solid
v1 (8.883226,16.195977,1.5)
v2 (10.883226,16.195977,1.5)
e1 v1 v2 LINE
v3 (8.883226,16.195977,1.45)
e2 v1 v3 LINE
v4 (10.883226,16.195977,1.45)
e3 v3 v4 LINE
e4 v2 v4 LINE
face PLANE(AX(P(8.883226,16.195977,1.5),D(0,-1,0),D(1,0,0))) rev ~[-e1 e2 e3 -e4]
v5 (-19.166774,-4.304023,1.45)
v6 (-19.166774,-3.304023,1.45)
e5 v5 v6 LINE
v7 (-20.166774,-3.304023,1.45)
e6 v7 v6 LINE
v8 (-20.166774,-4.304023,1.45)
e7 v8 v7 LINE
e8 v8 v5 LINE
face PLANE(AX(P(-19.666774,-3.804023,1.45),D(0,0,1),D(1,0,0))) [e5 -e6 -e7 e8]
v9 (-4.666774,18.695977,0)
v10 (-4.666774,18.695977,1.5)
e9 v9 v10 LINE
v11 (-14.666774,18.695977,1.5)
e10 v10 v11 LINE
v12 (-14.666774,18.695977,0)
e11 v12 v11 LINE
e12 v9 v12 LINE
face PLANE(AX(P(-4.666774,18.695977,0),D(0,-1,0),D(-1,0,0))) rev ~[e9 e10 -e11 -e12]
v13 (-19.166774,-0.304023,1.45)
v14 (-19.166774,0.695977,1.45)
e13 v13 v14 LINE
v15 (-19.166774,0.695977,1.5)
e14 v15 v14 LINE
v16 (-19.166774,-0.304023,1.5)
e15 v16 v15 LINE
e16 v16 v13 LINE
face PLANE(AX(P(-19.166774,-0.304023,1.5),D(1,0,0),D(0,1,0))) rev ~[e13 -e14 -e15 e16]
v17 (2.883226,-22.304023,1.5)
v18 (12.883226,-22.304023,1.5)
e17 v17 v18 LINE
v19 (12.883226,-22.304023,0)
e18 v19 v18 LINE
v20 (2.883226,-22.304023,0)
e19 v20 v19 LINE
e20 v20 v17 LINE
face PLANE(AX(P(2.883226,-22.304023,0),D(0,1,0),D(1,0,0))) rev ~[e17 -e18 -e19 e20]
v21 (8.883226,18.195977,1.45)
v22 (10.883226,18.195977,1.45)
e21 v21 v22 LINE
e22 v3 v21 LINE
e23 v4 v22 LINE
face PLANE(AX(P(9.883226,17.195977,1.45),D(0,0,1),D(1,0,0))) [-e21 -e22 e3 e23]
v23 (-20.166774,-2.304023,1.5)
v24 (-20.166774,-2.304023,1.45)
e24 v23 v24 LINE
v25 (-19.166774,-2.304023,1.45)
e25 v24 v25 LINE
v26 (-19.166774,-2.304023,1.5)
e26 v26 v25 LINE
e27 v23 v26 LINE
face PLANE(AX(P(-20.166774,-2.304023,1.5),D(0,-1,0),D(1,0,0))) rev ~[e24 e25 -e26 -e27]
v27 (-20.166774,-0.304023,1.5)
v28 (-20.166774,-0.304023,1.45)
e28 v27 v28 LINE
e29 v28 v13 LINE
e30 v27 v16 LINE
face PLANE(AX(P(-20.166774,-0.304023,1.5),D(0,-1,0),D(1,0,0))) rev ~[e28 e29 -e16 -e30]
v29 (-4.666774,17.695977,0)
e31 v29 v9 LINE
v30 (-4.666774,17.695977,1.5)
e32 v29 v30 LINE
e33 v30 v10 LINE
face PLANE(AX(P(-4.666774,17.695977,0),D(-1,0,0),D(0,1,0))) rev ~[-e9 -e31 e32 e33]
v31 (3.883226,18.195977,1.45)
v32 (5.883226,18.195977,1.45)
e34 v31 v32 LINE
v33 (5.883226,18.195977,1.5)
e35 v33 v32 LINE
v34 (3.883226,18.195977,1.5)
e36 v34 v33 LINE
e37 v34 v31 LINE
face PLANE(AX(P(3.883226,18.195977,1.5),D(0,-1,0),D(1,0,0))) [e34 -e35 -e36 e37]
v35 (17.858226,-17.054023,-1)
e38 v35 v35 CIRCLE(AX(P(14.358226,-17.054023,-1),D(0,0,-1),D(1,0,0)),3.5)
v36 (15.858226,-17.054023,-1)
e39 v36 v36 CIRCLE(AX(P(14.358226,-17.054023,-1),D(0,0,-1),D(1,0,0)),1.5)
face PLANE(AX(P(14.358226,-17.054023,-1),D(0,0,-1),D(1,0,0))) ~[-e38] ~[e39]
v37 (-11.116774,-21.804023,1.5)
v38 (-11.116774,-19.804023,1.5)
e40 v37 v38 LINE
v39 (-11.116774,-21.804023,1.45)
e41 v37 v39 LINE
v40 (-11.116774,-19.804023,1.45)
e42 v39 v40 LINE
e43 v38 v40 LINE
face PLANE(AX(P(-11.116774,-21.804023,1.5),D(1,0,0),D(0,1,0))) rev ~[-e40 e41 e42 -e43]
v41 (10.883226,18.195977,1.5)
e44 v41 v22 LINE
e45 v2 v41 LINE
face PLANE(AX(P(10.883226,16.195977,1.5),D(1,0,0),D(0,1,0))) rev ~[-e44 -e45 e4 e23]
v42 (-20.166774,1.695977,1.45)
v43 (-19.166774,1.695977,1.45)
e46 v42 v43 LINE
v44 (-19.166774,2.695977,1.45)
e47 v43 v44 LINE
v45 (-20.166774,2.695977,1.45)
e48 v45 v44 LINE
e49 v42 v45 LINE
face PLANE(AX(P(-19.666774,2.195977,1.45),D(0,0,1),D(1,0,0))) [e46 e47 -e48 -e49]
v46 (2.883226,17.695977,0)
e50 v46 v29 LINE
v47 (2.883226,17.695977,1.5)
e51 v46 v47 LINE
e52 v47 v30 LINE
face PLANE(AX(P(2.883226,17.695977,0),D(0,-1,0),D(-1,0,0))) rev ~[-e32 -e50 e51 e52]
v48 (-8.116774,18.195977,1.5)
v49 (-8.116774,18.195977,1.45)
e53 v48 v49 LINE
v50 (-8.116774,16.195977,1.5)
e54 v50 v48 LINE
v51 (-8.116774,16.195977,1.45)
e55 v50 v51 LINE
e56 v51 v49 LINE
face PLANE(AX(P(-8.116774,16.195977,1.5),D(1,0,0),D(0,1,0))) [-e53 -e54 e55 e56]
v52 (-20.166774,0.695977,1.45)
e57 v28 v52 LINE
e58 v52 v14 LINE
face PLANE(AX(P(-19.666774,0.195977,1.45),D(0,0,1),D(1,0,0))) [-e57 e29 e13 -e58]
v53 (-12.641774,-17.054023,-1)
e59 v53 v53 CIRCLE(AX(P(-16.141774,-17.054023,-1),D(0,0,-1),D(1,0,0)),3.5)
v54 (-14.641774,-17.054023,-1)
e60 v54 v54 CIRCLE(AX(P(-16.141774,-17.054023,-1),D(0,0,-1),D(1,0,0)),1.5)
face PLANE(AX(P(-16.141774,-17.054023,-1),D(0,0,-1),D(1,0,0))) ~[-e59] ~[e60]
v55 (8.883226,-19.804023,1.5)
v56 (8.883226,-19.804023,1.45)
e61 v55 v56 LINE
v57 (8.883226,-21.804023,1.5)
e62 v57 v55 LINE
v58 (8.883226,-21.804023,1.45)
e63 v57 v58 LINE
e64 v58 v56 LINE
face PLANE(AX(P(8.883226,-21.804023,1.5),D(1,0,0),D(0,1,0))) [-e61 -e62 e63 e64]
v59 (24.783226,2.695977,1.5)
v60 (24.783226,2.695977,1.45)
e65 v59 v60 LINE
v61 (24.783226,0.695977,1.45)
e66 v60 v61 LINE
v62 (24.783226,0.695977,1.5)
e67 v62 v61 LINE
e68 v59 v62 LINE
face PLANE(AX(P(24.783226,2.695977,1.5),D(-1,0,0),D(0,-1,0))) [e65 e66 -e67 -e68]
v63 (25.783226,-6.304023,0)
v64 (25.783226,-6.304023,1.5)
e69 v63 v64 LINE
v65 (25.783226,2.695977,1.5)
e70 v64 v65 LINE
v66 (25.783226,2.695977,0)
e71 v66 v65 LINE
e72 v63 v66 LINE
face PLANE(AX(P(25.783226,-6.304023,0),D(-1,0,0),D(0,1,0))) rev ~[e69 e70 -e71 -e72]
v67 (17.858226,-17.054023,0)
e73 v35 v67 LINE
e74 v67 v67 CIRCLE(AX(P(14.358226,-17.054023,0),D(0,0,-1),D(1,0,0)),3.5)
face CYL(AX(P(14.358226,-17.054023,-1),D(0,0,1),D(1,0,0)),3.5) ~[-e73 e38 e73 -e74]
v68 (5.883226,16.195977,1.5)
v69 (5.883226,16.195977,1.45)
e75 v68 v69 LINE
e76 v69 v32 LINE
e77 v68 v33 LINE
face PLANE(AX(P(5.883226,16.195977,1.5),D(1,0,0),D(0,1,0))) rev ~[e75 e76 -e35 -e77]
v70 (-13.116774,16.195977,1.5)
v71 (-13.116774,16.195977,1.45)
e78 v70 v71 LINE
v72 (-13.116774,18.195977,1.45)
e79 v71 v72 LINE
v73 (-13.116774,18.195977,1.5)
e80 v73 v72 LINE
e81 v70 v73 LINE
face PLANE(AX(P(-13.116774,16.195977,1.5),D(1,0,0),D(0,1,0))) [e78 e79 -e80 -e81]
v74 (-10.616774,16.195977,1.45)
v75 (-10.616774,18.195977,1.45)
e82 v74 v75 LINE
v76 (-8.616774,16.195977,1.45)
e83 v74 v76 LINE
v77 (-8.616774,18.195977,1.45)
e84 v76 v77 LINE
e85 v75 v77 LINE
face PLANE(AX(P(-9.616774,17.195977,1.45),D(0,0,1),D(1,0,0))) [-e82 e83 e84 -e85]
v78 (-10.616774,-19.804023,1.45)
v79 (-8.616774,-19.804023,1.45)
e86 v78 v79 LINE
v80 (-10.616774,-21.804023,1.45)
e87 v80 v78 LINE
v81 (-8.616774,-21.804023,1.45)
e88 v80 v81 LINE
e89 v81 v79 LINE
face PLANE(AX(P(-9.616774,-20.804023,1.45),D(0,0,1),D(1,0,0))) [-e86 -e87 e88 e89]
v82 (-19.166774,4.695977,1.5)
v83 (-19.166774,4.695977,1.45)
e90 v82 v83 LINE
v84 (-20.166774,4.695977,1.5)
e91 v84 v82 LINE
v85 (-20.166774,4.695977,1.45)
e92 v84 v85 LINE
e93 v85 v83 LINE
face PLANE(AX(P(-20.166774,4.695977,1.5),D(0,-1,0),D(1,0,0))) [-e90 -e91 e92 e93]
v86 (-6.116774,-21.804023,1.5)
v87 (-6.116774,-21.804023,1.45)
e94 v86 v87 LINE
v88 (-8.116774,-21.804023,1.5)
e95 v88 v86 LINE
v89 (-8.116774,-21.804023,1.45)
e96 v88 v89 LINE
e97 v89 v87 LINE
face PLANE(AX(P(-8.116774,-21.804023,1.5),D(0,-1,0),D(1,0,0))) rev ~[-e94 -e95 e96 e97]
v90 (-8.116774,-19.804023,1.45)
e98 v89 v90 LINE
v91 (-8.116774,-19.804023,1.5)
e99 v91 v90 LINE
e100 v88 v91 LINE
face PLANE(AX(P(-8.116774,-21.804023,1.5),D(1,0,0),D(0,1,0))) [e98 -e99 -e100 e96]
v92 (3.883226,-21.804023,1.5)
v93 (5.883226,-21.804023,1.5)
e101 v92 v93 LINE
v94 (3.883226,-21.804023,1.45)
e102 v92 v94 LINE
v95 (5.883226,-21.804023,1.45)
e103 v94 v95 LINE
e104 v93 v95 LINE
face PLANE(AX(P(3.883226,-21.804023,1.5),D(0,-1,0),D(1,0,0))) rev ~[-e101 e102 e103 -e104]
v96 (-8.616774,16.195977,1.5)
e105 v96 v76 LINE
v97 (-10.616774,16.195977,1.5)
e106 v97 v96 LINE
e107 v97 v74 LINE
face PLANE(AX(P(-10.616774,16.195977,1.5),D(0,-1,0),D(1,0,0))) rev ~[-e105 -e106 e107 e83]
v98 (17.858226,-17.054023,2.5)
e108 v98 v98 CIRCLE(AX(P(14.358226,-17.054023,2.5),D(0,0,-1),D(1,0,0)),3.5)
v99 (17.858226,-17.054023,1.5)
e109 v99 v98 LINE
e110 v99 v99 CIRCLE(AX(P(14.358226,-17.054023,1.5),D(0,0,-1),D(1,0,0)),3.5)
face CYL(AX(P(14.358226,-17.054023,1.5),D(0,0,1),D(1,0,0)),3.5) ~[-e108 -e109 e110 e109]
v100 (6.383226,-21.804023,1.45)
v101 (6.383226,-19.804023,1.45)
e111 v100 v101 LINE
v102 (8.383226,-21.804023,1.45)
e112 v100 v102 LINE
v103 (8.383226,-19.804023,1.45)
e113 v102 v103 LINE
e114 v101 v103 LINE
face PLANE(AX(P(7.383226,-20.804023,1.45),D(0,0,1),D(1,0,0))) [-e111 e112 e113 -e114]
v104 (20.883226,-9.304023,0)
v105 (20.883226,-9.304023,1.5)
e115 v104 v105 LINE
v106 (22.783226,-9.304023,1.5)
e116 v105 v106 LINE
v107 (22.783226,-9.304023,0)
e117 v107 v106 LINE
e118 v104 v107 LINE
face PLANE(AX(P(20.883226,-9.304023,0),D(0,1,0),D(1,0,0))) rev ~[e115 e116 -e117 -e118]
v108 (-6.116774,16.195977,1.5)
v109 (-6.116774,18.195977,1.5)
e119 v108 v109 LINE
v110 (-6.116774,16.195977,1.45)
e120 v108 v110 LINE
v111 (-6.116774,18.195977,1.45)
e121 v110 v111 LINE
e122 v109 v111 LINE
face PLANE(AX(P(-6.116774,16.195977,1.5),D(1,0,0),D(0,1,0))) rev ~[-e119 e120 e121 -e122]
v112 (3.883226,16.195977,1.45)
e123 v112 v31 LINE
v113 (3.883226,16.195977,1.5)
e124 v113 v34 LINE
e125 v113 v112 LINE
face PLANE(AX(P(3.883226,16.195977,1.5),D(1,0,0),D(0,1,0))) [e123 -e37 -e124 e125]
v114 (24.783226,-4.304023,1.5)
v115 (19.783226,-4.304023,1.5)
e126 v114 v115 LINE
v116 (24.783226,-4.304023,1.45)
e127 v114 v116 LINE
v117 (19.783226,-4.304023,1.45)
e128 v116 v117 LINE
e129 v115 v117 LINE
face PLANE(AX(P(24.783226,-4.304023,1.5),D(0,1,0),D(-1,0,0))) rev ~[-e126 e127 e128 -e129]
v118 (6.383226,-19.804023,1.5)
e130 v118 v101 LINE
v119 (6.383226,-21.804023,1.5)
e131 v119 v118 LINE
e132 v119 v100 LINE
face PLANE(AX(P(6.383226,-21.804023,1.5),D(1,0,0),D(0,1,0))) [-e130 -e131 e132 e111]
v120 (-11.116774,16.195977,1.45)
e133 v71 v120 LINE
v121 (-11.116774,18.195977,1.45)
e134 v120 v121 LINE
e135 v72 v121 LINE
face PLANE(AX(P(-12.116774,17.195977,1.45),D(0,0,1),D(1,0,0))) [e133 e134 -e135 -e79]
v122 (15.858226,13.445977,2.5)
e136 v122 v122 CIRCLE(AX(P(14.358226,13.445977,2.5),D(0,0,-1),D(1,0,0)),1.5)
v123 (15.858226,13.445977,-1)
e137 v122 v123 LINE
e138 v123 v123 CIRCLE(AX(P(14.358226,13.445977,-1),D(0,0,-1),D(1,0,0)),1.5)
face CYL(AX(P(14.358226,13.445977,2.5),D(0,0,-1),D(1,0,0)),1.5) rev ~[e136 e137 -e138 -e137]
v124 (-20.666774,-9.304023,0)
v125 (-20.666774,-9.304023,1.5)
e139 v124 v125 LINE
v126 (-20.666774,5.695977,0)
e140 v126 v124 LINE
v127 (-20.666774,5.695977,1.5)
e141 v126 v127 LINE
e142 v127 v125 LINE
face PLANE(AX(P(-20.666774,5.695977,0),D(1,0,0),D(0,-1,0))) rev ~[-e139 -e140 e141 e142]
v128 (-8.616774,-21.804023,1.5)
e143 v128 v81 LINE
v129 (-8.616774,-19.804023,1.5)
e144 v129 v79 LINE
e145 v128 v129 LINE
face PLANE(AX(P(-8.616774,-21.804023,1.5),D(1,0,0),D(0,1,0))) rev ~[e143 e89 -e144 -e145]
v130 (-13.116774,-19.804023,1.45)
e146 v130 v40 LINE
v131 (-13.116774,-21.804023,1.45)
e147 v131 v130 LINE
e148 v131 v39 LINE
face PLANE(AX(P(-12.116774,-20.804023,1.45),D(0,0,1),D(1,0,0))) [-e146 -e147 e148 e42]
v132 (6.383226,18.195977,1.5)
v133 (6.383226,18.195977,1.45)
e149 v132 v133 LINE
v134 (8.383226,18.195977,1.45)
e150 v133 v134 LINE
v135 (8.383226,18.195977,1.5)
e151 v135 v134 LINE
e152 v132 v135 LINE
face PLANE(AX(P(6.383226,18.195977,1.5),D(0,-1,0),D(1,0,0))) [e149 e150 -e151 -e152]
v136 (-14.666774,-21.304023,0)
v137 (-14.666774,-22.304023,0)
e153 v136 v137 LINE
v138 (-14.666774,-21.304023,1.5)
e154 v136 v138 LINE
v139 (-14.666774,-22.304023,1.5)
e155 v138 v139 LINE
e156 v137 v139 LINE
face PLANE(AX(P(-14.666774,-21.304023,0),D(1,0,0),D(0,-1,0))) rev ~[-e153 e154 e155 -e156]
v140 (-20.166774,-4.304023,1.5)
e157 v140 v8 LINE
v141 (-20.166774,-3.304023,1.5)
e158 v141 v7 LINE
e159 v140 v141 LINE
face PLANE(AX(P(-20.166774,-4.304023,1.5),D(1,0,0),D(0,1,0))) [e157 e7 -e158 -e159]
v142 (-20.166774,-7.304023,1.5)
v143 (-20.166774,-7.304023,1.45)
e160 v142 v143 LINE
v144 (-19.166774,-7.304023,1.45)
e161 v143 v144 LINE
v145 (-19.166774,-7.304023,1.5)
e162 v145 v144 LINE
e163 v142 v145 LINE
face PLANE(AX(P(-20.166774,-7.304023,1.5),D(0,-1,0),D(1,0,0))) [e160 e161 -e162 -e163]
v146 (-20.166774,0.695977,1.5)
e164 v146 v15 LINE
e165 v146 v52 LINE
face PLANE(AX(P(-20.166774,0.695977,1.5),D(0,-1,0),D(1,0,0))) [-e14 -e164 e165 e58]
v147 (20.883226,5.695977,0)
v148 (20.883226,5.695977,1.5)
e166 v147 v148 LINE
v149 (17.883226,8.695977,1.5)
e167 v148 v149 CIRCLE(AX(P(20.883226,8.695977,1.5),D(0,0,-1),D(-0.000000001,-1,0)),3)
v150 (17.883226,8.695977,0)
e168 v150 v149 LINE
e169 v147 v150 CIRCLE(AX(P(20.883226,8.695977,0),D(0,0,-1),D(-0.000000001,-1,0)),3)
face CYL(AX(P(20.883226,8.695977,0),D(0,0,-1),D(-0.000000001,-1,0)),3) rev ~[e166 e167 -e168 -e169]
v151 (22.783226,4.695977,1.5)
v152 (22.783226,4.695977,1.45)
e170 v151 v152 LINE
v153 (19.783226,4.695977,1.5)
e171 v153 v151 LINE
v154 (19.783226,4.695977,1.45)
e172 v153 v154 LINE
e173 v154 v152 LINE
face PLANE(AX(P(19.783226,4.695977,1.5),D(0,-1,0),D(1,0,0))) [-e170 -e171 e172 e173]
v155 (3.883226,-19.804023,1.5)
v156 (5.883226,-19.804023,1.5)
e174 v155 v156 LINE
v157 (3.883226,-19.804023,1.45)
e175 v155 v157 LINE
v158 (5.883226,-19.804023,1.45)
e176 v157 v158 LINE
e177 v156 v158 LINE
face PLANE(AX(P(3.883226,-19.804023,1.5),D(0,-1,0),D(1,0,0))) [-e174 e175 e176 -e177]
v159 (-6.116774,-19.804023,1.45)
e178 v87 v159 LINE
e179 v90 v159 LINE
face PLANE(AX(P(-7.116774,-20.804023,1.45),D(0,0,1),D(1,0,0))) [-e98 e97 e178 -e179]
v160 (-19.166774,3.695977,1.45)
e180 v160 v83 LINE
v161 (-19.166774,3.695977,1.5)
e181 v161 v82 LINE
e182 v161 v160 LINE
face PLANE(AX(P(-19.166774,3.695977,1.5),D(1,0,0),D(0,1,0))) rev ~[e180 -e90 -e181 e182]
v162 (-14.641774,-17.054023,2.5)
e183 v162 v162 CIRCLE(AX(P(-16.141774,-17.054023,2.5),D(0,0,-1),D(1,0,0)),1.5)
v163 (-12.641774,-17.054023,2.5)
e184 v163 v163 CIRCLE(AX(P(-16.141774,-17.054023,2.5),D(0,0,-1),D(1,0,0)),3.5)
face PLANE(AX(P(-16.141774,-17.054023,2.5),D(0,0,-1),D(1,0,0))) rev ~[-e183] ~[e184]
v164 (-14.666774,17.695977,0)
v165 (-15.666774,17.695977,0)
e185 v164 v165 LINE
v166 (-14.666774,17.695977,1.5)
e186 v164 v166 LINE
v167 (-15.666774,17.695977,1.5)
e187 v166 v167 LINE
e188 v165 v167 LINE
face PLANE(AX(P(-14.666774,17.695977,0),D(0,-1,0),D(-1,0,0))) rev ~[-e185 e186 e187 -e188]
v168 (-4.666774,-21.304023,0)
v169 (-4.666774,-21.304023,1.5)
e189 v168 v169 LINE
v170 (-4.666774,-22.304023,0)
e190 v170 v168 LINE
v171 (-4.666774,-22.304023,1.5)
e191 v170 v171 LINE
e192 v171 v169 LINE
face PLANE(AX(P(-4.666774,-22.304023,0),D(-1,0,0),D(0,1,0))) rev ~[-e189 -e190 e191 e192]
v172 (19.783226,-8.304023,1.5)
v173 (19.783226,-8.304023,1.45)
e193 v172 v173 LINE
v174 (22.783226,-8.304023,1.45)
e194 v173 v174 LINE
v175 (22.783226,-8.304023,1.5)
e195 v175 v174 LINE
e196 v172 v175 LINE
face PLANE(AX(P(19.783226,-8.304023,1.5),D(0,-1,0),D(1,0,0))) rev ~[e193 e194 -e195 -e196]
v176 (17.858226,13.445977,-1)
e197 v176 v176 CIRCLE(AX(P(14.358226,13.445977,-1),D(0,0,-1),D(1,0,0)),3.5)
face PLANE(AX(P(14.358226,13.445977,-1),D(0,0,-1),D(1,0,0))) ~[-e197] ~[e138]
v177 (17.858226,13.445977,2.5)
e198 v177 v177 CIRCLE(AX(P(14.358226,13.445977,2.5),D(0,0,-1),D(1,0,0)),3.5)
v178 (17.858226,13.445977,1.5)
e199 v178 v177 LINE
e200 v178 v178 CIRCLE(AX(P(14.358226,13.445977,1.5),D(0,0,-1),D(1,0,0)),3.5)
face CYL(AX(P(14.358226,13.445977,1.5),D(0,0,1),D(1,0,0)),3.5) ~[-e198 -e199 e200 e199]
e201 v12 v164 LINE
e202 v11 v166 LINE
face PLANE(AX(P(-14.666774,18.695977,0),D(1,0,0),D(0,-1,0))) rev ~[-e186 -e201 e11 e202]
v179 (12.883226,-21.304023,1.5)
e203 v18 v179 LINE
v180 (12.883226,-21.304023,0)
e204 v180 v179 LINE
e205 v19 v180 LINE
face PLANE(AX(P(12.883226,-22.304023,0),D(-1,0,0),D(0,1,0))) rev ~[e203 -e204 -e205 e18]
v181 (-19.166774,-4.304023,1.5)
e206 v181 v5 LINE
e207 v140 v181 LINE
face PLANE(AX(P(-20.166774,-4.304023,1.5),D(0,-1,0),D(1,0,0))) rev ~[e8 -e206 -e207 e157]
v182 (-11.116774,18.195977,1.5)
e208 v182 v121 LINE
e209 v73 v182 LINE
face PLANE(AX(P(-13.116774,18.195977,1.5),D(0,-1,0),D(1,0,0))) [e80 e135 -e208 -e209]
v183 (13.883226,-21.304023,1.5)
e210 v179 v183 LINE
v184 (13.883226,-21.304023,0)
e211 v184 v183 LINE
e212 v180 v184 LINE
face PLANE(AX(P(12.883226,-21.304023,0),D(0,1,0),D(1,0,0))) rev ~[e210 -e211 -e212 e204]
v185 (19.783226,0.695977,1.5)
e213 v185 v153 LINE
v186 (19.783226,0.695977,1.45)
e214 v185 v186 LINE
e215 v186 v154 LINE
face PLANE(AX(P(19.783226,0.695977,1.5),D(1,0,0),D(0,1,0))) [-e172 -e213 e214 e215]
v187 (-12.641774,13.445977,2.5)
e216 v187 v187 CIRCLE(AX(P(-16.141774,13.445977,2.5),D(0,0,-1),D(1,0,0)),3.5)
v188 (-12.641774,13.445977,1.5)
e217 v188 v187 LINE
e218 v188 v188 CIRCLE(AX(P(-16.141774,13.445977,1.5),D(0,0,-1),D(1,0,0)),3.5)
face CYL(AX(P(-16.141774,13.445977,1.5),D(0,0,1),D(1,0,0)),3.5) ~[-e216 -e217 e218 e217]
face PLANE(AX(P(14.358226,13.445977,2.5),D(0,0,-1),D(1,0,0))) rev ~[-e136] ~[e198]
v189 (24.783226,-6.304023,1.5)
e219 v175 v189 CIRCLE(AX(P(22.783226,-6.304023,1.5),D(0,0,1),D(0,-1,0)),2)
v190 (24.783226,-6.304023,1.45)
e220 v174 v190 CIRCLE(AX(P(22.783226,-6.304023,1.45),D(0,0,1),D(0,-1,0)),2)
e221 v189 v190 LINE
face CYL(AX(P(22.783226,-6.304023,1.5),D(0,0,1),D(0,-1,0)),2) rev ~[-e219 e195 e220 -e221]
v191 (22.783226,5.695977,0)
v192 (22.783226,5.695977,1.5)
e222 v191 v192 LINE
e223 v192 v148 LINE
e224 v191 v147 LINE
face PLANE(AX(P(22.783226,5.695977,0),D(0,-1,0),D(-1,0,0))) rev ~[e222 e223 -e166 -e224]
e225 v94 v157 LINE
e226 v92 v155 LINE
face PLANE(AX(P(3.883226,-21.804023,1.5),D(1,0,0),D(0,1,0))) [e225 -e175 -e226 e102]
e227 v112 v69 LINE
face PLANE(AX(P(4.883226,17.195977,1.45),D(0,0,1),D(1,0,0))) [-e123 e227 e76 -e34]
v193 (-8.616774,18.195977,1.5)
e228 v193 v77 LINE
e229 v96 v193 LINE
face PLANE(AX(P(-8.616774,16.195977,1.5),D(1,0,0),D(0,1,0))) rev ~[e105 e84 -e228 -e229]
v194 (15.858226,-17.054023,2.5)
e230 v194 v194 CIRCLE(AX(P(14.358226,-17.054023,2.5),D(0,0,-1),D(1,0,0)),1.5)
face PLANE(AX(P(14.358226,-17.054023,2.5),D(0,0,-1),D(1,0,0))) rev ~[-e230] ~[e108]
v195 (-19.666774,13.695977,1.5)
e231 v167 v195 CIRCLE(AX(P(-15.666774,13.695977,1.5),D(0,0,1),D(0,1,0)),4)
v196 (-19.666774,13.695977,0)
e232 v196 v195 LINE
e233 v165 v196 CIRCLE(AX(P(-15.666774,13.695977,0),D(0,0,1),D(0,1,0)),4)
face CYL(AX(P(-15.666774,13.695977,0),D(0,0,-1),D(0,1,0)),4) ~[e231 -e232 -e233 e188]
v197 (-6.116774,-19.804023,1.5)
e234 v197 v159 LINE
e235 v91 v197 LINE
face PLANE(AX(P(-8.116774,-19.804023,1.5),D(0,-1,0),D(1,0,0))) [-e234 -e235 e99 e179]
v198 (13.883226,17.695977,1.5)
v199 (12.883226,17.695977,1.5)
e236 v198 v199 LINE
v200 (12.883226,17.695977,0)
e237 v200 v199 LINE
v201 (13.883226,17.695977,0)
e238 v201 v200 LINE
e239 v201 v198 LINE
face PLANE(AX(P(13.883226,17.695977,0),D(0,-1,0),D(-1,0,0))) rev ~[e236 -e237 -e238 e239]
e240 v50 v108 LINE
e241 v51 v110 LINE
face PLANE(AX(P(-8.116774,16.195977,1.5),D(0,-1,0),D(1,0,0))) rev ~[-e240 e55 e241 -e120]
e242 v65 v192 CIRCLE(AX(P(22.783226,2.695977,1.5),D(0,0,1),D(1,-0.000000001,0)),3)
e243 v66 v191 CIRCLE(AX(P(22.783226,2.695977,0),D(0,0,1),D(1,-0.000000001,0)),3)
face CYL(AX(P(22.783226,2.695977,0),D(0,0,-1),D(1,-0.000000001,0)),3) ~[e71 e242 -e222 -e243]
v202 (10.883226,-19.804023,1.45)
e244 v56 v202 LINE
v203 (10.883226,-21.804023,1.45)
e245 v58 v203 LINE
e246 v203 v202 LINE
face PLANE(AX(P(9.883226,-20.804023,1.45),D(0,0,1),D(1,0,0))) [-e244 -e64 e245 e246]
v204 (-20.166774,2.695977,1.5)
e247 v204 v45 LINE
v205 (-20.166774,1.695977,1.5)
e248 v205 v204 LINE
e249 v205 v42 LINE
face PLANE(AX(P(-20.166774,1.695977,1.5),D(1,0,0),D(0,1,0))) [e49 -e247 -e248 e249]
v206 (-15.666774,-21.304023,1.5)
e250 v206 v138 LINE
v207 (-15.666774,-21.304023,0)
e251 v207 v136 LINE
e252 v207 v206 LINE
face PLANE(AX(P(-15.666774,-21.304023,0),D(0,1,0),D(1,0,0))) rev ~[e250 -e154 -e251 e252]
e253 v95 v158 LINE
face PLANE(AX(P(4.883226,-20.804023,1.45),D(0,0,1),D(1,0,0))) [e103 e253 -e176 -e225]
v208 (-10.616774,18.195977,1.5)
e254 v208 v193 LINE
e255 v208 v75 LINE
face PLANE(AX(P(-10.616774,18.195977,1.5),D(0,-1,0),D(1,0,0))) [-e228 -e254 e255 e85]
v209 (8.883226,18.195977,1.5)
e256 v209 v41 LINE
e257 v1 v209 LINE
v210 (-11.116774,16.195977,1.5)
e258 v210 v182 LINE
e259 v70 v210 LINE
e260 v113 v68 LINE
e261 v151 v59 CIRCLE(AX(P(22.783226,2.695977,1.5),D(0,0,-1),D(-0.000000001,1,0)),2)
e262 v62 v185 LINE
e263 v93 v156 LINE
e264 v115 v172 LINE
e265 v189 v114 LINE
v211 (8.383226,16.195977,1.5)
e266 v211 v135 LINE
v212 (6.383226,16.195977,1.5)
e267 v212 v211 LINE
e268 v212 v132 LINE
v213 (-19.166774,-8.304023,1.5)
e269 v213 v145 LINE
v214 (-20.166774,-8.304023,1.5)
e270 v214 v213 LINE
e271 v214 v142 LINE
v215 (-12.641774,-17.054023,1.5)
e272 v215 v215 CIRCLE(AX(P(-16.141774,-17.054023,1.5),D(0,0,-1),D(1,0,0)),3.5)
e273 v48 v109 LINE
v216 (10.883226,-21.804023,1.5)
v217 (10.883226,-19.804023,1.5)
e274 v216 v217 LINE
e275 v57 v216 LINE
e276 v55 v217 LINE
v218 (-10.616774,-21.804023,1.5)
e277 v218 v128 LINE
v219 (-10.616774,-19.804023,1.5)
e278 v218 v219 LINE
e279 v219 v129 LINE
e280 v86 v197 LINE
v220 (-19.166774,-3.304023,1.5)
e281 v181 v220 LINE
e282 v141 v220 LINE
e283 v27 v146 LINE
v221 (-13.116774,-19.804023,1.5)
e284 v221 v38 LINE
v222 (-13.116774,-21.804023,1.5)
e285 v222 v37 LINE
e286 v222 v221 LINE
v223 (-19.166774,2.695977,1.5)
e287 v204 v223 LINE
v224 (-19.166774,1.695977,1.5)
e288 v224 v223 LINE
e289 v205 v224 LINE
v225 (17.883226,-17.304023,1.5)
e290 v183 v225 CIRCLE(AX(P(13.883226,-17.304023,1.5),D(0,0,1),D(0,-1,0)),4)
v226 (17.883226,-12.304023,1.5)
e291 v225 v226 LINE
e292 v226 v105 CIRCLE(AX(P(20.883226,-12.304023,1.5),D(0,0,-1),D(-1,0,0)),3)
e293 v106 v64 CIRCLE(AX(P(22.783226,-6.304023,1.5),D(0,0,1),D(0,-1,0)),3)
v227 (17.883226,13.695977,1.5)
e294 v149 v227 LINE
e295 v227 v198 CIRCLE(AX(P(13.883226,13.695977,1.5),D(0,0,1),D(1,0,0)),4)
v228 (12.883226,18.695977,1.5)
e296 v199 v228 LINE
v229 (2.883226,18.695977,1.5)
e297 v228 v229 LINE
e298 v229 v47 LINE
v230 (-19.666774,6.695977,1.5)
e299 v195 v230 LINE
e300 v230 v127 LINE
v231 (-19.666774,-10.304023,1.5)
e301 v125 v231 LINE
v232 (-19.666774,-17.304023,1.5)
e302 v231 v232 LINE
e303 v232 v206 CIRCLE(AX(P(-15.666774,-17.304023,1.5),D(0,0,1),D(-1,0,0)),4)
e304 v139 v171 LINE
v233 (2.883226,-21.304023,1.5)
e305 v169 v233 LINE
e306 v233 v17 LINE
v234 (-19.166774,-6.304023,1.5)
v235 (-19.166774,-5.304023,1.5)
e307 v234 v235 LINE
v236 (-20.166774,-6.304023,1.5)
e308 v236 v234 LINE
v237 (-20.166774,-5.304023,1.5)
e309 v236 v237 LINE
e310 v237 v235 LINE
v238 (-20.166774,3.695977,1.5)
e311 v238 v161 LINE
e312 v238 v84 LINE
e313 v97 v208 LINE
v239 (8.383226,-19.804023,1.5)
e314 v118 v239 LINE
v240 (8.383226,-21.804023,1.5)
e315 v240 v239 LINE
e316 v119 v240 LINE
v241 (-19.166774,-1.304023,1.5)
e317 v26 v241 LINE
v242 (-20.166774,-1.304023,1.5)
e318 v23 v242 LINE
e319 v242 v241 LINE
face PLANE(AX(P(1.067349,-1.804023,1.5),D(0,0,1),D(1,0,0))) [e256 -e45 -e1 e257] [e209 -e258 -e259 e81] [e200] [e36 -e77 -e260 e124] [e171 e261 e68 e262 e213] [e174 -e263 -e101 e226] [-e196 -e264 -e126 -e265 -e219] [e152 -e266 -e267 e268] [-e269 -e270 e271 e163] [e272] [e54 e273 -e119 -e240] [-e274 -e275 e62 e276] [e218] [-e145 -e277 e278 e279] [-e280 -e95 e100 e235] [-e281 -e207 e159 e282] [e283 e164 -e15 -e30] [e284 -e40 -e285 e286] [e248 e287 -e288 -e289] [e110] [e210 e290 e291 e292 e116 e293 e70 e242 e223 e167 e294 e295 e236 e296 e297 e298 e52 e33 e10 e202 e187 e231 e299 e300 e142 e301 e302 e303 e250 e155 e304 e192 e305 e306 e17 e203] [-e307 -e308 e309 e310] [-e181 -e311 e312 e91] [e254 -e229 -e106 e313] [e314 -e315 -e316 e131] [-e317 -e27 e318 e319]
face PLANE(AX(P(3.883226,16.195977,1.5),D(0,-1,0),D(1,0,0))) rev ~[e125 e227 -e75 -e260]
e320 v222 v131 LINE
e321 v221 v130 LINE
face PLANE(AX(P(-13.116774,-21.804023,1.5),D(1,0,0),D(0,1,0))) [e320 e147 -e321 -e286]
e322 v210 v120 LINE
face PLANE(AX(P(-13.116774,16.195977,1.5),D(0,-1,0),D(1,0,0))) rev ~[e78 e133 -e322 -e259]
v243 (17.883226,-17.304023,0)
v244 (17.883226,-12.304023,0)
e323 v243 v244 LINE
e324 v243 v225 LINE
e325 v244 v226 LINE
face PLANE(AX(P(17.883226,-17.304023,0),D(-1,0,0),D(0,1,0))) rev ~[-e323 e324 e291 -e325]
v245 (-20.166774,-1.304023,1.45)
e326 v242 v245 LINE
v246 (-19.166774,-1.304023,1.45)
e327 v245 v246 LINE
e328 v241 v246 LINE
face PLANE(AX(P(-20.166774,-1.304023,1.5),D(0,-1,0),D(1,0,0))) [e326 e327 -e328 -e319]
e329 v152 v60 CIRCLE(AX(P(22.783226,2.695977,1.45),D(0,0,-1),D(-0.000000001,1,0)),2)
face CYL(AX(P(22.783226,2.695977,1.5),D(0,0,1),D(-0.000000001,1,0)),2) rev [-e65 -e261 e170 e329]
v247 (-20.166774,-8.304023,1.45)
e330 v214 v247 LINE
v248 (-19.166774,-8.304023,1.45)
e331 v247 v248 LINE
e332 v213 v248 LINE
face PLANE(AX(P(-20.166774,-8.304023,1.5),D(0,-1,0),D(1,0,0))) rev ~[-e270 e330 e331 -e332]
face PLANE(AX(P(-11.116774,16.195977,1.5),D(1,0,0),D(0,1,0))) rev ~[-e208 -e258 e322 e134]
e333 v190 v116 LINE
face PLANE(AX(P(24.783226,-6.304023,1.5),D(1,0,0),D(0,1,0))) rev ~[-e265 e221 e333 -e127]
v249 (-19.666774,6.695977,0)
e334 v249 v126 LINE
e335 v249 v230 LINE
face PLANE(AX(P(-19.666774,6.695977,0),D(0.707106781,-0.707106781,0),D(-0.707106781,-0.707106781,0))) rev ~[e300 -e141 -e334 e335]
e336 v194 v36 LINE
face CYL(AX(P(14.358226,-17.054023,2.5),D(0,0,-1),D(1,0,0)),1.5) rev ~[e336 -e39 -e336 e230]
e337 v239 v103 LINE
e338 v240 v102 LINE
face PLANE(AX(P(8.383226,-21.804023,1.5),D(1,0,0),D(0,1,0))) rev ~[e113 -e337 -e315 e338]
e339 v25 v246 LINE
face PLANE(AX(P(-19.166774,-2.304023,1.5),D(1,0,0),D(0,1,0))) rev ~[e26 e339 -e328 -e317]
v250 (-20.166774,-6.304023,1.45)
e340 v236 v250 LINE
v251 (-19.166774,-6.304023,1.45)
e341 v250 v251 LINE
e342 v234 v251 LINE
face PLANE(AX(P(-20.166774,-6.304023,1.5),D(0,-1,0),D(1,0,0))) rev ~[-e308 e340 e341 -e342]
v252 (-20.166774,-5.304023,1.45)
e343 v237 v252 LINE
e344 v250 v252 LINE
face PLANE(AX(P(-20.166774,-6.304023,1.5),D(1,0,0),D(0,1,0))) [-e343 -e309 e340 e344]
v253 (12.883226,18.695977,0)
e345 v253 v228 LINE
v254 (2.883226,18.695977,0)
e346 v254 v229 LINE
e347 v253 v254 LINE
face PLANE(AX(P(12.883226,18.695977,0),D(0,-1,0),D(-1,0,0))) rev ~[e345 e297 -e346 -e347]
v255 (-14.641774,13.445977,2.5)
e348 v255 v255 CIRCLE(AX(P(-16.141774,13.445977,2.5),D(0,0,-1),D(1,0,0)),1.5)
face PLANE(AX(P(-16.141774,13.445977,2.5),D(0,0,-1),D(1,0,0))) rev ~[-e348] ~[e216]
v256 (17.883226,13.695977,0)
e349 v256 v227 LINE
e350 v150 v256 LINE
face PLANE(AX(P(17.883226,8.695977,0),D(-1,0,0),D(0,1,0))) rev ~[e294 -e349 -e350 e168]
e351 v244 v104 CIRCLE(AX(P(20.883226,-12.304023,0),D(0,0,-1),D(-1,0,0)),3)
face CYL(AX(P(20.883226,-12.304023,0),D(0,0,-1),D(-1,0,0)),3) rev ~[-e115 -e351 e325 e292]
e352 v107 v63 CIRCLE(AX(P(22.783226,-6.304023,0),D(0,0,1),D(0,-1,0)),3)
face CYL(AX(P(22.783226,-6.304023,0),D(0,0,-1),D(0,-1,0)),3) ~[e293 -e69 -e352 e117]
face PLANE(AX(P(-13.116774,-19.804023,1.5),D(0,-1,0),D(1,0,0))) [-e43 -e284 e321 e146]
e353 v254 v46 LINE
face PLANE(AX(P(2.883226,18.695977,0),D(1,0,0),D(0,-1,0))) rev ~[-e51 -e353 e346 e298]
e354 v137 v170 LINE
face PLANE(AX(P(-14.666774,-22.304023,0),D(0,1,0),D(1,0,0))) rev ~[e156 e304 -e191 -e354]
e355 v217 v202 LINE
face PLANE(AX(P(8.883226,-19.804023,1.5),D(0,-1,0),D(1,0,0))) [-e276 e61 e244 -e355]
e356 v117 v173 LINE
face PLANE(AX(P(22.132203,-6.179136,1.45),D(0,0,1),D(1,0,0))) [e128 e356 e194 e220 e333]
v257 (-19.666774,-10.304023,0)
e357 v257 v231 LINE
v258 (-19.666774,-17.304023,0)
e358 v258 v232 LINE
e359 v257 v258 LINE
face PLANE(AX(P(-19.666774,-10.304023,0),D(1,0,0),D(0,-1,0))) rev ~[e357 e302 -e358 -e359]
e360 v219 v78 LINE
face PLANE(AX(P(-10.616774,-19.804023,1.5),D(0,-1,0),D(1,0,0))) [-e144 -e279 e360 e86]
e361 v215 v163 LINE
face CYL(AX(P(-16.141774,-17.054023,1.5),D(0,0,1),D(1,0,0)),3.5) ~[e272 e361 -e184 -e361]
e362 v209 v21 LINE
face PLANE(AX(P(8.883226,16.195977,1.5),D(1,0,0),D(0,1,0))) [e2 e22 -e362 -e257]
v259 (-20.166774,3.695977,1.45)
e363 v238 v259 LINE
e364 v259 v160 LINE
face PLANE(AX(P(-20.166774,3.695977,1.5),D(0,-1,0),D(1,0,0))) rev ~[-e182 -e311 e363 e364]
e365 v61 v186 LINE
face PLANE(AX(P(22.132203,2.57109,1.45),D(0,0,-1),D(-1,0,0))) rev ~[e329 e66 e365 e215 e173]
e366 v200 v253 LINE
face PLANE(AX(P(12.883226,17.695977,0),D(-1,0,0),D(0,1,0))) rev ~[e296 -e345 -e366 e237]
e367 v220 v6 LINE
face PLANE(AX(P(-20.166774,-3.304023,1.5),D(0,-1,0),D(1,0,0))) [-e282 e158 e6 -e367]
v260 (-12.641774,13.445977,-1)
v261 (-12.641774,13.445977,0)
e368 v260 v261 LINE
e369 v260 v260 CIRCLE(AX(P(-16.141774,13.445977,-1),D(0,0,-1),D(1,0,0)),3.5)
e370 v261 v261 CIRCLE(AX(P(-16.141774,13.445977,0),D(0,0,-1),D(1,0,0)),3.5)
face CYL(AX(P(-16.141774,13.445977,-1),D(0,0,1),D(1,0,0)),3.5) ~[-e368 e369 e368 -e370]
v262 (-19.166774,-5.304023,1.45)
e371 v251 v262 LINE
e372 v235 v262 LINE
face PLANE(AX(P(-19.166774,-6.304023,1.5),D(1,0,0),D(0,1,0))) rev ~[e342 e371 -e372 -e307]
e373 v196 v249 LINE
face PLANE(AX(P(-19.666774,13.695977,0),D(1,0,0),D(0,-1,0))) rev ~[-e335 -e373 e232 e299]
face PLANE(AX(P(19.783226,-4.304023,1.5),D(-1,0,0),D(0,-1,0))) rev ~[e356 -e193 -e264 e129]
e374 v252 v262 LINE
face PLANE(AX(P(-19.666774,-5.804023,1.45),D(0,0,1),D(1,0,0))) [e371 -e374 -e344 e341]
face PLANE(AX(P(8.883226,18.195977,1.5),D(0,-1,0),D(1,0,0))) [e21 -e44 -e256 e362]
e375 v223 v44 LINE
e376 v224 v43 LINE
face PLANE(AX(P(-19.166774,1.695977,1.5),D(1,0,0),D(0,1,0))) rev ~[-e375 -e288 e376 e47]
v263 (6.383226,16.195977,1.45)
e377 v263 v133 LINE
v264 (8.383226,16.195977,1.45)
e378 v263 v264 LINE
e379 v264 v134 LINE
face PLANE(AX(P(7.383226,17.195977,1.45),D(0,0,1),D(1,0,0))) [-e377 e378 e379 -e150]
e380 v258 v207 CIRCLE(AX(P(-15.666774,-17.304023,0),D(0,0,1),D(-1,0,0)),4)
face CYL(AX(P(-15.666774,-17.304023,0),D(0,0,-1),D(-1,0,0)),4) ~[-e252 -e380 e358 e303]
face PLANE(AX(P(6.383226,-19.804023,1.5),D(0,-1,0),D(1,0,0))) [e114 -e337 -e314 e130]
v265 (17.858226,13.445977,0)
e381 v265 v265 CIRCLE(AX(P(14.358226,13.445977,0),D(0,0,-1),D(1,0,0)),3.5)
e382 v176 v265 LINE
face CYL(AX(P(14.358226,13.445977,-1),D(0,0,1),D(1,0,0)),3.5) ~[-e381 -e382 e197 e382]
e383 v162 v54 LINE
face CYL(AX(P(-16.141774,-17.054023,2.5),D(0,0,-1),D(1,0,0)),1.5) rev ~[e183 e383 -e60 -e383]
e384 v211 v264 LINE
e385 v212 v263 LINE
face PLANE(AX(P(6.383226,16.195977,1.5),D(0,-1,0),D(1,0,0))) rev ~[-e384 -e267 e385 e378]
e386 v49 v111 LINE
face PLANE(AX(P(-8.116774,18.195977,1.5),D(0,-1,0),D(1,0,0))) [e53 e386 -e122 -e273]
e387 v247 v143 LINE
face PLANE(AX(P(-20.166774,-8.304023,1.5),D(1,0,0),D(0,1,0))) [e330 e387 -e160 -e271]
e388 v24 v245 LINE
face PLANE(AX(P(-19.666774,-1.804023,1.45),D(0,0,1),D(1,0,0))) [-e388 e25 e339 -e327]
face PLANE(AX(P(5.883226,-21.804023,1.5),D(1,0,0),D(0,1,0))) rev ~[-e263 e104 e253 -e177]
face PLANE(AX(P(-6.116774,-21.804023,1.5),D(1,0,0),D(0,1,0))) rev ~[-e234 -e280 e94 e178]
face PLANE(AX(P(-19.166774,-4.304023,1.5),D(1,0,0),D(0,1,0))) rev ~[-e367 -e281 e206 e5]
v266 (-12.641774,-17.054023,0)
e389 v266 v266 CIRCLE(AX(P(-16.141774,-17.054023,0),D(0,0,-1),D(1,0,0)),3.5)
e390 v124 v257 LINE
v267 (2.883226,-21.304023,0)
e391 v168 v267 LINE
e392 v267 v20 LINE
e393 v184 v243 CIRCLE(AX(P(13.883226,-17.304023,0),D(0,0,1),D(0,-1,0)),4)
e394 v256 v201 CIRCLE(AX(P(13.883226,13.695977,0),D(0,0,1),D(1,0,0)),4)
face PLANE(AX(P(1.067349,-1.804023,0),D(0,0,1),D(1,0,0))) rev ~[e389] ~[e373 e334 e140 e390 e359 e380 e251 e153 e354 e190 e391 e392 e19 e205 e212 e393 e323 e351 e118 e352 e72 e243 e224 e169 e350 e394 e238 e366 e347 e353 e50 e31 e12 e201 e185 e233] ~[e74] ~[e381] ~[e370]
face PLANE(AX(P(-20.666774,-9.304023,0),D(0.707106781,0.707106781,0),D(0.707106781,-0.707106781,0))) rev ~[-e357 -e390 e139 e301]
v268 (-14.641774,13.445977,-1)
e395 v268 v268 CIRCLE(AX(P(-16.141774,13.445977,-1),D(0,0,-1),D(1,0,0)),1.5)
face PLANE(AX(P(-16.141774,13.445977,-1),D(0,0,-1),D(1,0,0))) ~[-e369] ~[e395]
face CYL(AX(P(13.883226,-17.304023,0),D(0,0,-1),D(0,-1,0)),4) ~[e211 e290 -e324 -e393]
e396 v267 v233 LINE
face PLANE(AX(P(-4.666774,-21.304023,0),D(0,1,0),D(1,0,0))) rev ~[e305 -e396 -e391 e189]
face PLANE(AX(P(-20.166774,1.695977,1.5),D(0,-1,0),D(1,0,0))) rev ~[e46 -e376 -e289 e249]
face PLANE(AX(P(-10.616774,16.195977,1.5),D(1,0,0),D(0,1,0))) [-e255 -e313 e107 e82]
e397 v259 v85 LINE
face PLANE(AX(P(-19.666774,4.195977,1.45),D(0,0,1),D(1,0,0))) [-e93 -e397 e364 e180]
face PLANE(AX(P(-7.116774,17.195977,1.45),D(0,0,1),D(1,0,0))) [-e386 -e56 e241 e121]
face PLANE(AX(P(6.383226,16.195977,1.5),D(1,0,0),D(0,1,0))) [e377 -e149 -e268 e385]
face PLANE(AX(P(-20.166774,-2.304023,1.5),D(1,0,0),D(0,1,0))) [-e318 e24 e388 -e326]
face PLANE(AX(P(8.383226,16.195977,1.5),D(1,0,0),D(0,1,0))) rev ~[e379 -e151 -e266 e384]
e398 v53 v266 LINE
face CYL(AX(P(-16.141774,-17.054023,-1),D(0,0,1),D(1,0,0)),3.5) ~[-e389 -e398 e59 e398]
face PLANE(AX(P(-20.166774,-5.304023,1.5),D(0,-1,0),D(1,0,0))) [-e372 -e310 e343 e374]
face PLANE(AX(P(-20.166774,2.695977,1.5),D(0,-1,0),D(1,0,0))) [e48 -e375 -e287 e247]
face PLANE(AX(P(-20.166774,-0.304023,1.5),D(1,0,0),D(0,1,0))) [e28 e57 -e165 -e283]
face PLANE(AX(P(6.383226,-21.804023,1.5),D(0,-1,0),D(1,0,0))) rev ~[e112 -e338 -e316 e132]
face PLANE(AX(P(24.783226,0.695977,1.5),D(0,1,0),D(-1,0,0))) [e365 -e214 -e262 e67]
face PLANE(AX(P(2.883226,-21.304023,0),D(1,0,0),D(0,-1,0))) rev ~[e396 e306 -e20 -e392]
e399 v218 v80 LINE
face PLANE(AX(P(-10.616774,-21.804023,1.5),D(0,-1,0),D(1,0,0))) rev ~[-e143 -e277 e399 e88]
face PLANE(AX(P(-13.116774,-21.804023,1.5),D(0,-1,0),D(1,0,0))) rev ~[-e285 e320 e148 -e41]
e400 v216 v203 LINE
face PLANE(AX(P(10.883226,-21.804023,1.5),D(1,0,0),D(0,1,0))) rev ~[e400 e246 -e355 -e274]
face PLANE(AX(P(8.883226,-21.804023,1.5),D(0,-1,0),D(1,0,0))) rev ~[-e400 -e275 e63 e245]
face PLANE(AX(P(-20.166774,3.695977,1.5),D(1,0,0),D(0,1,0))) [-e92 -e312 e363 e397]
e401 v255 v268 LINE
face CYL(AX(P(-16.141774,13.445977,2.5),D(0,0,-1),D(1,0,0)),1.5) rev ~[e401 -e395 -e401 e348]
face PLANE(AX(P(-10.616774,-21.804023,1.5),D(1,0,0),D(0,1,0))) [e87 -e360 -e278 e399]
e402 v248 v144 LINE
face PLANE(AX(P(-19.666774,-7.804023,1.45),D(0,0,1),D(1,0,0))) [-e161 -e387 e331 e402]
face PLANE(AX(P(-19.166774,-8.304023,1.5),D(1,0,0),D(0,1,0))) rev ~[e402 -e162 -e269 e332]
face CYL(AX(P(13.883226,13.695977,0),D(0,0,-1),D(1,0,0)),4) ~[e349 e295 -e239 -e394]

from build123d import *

# Parameters (mm, degrees)
CROQUIS1_R              = 2.5
SALIENTE_EXTRUIR1_DEPTH = 1.5
MATRIZL1_COUNT          = 2
MATRIZL1_PITCH          = 30.5
MATRIZL1_COUNT_DIR2     = 2
MATRIZL1_PITCH_DIR2     = 30.5
CROQUIS4_W              = 2
CROQUIS4_H              = 2
CROQUIS4_W_2            = 1
CROQUIS4_H_2            = 1
CORTAR_EXTRUIR1_DEPTH   = 0.05


with BuildPart() as part:
    # Croquis1 → Saliente-Extruir1 (new body)
    with BuildSketch(Plane.XY):
        with BuildLine():
            Line((-19.66677388, 13.695977011), (-19.66677388, 6.695977011))
            Line((-19.66677388, 6.695977011), (-20.66677388, 5.695977011))
            Line((-20.66677388, 5.695977011), (-20.66677388, -9.304022989))
            Line((-20.66677388, -9.304022989), (-19.66677388, -10.304022989))
            Line((-19.66677388, -10.304022989), (-19.66677388, -17.304022989))
            ThreePointArc((-19.66677388, -17.304022989), (-18.495201005, -20.132450113), (-15.66677388, -21.304022989))
            Line((-15.66677388, -21.304022989), (-14.66677388, -21.304022989))
            Line((-14.66677388, -21.304022989), (-14.66677388, -22.304022989))
            Line((-14.66677388, -22.304022989), (-4.66677388, -22.304022989))
            Line((-4.66677388, -22.304022989), (-4.66677388, -21.304022989))
            Line((-4.66677388, -21.304022989), (2.88322612, -21.304022989))
            Line((2.88322612, -21.304022989), (2.88322612, -22.304022989))
            Line((2.88322612, -22.304022989), (12.88322612, -22.304022989))
            Line((12.88322612, -22.304022989), (12.88322612, -21.304022989))
            Line((12.88322612, -21.304022989), (13.88322612, -21.304022989))
            ThreePointArc((13.88322612, -21.304022989), (16.711653245, -20.132450113), (17.88322612, -17.304022989))
            Line((17.88322612, -17.304022989), (17.88322612, -12.304022989))
            ThreePointArc((17.88322612, -12.304022989), (18.761905777, -10.182702645), (20.88322612, -9.304022989))
            Line((20.88322612, -9.304022989), (22.78322612, -9.304022989))
            ThreePointArc((22.78322612, -9.304022989), (24.904546464, -8.425343332), (25.78322612, -6.304022989))
            Line((25.78322612, -6.304022989), (25.78322612, 2.695977011))
            ThreePointArc((25.78322612, 2.695977011), (24.904546464, 4.817297355), (22.78322612, 5.695977011))
            Line((22.78322612, 5.695977011), (20.88322612, 5.695977011))
            ThreePointArc((20.88322612, 5.695977011), (18.761905777, 6.574656668), (17.88322612, 8.695977011))
            Line((17.88322612, 8.695977011), (17.88322612, 13.695977011))
            ThreePointArc((17.88322612, 13.695977011), (16.711653245, 16.524404136), (13.88322612, 17.695977011))
            Line((13.88322612, 17.695977011), (12.88322612, 17.695977011))
            Line((12.88322612, 17.695977011), (12.88322612, 18.695977011))
            Line((12.88322612, 18.695977011), (2.88322612, 18.695977011))
            Line((2.88322612, 18.695977011), (2.88322612, 17.695977011))
            Line((2.88322612, 17.695977011), (-4.66677388, 17.695977011))
            Line((-4.66677388, 17.695977011), (-4.66677388, 18.695977011))
            Line((-4.66677388, 18.695977011), (-14.66677388, 18.695977011))
            Line((-14.66677388, 18.695977011), (-14.66677388, 17.695977011))
            Line((-14.66677388, 17.695977011), (-15.66677388, 17.695977011))
            ThreePointArc((-15.66677388, 17.695977011), (-18.495201005, 16.524404136), (-19.66677388, 13.695977011))
        make_face()
        with Locations((-16.14177388, 13.445977011)):
            Circle(CROQUIS1_R, mode=Mode.SUBTRACT)
        with Locations((14.35822612, 13.445977011)):
            Circle(CROQUIS1_R, mode=Mode.SUBTRACT)
        with Locations((14.35822612, -17.054022989)):
            Circle(CROQUIS1_R, mode=Mode.SUBTRACT)
        with Locations((-16.14177388, -17.054022989)):
            Circle(CROQUIS1_R, mode=Mode.SUBTRACT)
    extrude(amount=SALIENTE_EXTRUIR1_DEPTH)

    # Croquis3 → Revolución1 (revolve)
    with BuildSketch(Plane(origin=(0, -17.054022989, 0), x_dir=(-1, 0, 0), z_dir=(0, -1, 0)), mode=Mode.PRIVATE) as revoluci_n1_sk:
        Polygon((18.64177388, -1.5), (19.64177388, -1.5), (19.64177388, -2.5), (17.64177388, -2.5), (17.64177388, 1), (19.64177388, 1), (19.64177388, 0), (18.64177388, 0), align=None)
    revoluci_n1 = revolve(revoluci_n1_sk.sketch.rotate(Axis((-16.14177388, -17.054022989, 2.5), (0, 0, -1)), 180), axis=Axis((-16.14177388, -17.054022989, 2.5), (0, 0, -1)))

    # MatrizL1: Revoluci_n1 2 × 2
    with Locations(*[(i * MATRIZL1_PITCH, j * MATRIZL1_PITCH_DIR2, 0) for i in range(MATRIZL1_COUNT) for j in range(MATRIZL1_COUNT_DIR2) if (i, j) != (0, 0)]):
        add(revoluci_n1)

    # Croquis4 → Cortar-Extruir1 (cut)
    with BuildSketch(Plane.XY.offset(1.5)):
        with BuildLine():
            Line((19.78322612, -8.304022989), (22.78322612, -8.304022989))
            ThreePointArc((22.78322612, -8.304022989), (24.197439683, -7.718236551), (24.78322612, -6.304022989))
            Line((24.78322612, -6.304022989), (24.78322612, -4.304022989))
            Line((24.78322612, -4.304022989), (19.78322612, -4.304022989))
            Line((19.78322612, -4.304022989), (19.78322612, -8.304022989))
        make_face()
        with Locations((9.88322612, -20.804022989)):
            Rectangle(CROQUIS4_W, CROQUIS4_H)
        with Locations((-19.66677388, -7.804022989)):
            Rectangle(CROQUIS4_W_2, CROQUIS4_H_2)
        with Locations((7.38322612, -20.804022989)):
            Rectangle(CROQUIS4_W, CROQUIS4_H)
        with Locations((4.88322612, -20.804022989)):
            Rectangle(CROQUIS4_W, CROQUIS4_H)
        with Locations((-7.11677388, -20.804022989)):
            Rectangle(CROQUIS4_W, CROQUIS4_H)
        with Locations((-9.61677388, -20.804022989)):
            Rectangle(CROQUIS4_W, CROQUIS4_H)
        with Locations((-12.11677388, -20.804022989)):
            Rectangle(CROQUIS4_W, CROQUIS4_H)
        with Locations((-19.66677388, -5.804022989)):
            Rectangle(CROQUIS4_W_2, CROQUIS4_H_2)
        with Locations((-19.66677388, -3.804022989)):
            Rectangle(CROQUIS4_W_2, CROQUIS4_H_2)
        with Locations((-19.66677388, -1.804022989)):
            Rectangle(CROQUIS4_W_2, CROQUIS4_H_2)
        with Locations((-19.66677388, 0.195977011)):
            Rectangle(CROQUIS4_W_2, CROQUIS4_H_2)
        with Locations((-19.66677388, 2.195977011)):
            Rectangle(CROQUIS4_W_2, CROQUIS4_H_2)
        with Locations((-19.66677388, 4.195977011)):
            Rectangle(CROQUIS4_W_2, CROQUIS4_H_2)
        with Locations((-12.11677388, 17.195977011)):
            Rectangle(CROQUIS4_W, CROQUIS4_H)
        with Locations((-9.61677388, 17.195977011)):
            Rectangle(CROQUIS4_W, CROQUIS4_H)
        with Locations((-7.11677388, 17.195977011)):
            Rectangle(CROQUIS4_W, CROQUIS4_H)
        with Locations((4.88322612, 17.195977011)):
            Rectangle(CROQUIS4_W, CROQUIS4_H)
        with Locations((7.38322612, 17.195977011)):
            Rectangle(CROQUIS4_W, CROQUIS4_H)
        with Locations((9.88322612, 17.195977011)):
            Rectangle(CROQUIS4_W, CROQUIS4_H)
        with BuildLine():
            Line((24.78322612, 2.695977011), (24.78322612, 0.695977011))
            Line((24.78322612, 0.695977011), (19.78322612, 0.695977011))
            Line((19.78322612, 0.695977011), (19.78322612, 4.695977011))
            Line((19.78322612, 4.695977011), (22.78322612, 4.695977011))
            ThreePointArc((22.78322612, 4.695977011), (24.197439683, 4.110190574), (24.78322612, 2.695977011))
        make_face()
    extrude(amount=-CORTAR_EXTRUIR1_DEPTH, mode=Mode.SUBTRACT)


solid = part.part
